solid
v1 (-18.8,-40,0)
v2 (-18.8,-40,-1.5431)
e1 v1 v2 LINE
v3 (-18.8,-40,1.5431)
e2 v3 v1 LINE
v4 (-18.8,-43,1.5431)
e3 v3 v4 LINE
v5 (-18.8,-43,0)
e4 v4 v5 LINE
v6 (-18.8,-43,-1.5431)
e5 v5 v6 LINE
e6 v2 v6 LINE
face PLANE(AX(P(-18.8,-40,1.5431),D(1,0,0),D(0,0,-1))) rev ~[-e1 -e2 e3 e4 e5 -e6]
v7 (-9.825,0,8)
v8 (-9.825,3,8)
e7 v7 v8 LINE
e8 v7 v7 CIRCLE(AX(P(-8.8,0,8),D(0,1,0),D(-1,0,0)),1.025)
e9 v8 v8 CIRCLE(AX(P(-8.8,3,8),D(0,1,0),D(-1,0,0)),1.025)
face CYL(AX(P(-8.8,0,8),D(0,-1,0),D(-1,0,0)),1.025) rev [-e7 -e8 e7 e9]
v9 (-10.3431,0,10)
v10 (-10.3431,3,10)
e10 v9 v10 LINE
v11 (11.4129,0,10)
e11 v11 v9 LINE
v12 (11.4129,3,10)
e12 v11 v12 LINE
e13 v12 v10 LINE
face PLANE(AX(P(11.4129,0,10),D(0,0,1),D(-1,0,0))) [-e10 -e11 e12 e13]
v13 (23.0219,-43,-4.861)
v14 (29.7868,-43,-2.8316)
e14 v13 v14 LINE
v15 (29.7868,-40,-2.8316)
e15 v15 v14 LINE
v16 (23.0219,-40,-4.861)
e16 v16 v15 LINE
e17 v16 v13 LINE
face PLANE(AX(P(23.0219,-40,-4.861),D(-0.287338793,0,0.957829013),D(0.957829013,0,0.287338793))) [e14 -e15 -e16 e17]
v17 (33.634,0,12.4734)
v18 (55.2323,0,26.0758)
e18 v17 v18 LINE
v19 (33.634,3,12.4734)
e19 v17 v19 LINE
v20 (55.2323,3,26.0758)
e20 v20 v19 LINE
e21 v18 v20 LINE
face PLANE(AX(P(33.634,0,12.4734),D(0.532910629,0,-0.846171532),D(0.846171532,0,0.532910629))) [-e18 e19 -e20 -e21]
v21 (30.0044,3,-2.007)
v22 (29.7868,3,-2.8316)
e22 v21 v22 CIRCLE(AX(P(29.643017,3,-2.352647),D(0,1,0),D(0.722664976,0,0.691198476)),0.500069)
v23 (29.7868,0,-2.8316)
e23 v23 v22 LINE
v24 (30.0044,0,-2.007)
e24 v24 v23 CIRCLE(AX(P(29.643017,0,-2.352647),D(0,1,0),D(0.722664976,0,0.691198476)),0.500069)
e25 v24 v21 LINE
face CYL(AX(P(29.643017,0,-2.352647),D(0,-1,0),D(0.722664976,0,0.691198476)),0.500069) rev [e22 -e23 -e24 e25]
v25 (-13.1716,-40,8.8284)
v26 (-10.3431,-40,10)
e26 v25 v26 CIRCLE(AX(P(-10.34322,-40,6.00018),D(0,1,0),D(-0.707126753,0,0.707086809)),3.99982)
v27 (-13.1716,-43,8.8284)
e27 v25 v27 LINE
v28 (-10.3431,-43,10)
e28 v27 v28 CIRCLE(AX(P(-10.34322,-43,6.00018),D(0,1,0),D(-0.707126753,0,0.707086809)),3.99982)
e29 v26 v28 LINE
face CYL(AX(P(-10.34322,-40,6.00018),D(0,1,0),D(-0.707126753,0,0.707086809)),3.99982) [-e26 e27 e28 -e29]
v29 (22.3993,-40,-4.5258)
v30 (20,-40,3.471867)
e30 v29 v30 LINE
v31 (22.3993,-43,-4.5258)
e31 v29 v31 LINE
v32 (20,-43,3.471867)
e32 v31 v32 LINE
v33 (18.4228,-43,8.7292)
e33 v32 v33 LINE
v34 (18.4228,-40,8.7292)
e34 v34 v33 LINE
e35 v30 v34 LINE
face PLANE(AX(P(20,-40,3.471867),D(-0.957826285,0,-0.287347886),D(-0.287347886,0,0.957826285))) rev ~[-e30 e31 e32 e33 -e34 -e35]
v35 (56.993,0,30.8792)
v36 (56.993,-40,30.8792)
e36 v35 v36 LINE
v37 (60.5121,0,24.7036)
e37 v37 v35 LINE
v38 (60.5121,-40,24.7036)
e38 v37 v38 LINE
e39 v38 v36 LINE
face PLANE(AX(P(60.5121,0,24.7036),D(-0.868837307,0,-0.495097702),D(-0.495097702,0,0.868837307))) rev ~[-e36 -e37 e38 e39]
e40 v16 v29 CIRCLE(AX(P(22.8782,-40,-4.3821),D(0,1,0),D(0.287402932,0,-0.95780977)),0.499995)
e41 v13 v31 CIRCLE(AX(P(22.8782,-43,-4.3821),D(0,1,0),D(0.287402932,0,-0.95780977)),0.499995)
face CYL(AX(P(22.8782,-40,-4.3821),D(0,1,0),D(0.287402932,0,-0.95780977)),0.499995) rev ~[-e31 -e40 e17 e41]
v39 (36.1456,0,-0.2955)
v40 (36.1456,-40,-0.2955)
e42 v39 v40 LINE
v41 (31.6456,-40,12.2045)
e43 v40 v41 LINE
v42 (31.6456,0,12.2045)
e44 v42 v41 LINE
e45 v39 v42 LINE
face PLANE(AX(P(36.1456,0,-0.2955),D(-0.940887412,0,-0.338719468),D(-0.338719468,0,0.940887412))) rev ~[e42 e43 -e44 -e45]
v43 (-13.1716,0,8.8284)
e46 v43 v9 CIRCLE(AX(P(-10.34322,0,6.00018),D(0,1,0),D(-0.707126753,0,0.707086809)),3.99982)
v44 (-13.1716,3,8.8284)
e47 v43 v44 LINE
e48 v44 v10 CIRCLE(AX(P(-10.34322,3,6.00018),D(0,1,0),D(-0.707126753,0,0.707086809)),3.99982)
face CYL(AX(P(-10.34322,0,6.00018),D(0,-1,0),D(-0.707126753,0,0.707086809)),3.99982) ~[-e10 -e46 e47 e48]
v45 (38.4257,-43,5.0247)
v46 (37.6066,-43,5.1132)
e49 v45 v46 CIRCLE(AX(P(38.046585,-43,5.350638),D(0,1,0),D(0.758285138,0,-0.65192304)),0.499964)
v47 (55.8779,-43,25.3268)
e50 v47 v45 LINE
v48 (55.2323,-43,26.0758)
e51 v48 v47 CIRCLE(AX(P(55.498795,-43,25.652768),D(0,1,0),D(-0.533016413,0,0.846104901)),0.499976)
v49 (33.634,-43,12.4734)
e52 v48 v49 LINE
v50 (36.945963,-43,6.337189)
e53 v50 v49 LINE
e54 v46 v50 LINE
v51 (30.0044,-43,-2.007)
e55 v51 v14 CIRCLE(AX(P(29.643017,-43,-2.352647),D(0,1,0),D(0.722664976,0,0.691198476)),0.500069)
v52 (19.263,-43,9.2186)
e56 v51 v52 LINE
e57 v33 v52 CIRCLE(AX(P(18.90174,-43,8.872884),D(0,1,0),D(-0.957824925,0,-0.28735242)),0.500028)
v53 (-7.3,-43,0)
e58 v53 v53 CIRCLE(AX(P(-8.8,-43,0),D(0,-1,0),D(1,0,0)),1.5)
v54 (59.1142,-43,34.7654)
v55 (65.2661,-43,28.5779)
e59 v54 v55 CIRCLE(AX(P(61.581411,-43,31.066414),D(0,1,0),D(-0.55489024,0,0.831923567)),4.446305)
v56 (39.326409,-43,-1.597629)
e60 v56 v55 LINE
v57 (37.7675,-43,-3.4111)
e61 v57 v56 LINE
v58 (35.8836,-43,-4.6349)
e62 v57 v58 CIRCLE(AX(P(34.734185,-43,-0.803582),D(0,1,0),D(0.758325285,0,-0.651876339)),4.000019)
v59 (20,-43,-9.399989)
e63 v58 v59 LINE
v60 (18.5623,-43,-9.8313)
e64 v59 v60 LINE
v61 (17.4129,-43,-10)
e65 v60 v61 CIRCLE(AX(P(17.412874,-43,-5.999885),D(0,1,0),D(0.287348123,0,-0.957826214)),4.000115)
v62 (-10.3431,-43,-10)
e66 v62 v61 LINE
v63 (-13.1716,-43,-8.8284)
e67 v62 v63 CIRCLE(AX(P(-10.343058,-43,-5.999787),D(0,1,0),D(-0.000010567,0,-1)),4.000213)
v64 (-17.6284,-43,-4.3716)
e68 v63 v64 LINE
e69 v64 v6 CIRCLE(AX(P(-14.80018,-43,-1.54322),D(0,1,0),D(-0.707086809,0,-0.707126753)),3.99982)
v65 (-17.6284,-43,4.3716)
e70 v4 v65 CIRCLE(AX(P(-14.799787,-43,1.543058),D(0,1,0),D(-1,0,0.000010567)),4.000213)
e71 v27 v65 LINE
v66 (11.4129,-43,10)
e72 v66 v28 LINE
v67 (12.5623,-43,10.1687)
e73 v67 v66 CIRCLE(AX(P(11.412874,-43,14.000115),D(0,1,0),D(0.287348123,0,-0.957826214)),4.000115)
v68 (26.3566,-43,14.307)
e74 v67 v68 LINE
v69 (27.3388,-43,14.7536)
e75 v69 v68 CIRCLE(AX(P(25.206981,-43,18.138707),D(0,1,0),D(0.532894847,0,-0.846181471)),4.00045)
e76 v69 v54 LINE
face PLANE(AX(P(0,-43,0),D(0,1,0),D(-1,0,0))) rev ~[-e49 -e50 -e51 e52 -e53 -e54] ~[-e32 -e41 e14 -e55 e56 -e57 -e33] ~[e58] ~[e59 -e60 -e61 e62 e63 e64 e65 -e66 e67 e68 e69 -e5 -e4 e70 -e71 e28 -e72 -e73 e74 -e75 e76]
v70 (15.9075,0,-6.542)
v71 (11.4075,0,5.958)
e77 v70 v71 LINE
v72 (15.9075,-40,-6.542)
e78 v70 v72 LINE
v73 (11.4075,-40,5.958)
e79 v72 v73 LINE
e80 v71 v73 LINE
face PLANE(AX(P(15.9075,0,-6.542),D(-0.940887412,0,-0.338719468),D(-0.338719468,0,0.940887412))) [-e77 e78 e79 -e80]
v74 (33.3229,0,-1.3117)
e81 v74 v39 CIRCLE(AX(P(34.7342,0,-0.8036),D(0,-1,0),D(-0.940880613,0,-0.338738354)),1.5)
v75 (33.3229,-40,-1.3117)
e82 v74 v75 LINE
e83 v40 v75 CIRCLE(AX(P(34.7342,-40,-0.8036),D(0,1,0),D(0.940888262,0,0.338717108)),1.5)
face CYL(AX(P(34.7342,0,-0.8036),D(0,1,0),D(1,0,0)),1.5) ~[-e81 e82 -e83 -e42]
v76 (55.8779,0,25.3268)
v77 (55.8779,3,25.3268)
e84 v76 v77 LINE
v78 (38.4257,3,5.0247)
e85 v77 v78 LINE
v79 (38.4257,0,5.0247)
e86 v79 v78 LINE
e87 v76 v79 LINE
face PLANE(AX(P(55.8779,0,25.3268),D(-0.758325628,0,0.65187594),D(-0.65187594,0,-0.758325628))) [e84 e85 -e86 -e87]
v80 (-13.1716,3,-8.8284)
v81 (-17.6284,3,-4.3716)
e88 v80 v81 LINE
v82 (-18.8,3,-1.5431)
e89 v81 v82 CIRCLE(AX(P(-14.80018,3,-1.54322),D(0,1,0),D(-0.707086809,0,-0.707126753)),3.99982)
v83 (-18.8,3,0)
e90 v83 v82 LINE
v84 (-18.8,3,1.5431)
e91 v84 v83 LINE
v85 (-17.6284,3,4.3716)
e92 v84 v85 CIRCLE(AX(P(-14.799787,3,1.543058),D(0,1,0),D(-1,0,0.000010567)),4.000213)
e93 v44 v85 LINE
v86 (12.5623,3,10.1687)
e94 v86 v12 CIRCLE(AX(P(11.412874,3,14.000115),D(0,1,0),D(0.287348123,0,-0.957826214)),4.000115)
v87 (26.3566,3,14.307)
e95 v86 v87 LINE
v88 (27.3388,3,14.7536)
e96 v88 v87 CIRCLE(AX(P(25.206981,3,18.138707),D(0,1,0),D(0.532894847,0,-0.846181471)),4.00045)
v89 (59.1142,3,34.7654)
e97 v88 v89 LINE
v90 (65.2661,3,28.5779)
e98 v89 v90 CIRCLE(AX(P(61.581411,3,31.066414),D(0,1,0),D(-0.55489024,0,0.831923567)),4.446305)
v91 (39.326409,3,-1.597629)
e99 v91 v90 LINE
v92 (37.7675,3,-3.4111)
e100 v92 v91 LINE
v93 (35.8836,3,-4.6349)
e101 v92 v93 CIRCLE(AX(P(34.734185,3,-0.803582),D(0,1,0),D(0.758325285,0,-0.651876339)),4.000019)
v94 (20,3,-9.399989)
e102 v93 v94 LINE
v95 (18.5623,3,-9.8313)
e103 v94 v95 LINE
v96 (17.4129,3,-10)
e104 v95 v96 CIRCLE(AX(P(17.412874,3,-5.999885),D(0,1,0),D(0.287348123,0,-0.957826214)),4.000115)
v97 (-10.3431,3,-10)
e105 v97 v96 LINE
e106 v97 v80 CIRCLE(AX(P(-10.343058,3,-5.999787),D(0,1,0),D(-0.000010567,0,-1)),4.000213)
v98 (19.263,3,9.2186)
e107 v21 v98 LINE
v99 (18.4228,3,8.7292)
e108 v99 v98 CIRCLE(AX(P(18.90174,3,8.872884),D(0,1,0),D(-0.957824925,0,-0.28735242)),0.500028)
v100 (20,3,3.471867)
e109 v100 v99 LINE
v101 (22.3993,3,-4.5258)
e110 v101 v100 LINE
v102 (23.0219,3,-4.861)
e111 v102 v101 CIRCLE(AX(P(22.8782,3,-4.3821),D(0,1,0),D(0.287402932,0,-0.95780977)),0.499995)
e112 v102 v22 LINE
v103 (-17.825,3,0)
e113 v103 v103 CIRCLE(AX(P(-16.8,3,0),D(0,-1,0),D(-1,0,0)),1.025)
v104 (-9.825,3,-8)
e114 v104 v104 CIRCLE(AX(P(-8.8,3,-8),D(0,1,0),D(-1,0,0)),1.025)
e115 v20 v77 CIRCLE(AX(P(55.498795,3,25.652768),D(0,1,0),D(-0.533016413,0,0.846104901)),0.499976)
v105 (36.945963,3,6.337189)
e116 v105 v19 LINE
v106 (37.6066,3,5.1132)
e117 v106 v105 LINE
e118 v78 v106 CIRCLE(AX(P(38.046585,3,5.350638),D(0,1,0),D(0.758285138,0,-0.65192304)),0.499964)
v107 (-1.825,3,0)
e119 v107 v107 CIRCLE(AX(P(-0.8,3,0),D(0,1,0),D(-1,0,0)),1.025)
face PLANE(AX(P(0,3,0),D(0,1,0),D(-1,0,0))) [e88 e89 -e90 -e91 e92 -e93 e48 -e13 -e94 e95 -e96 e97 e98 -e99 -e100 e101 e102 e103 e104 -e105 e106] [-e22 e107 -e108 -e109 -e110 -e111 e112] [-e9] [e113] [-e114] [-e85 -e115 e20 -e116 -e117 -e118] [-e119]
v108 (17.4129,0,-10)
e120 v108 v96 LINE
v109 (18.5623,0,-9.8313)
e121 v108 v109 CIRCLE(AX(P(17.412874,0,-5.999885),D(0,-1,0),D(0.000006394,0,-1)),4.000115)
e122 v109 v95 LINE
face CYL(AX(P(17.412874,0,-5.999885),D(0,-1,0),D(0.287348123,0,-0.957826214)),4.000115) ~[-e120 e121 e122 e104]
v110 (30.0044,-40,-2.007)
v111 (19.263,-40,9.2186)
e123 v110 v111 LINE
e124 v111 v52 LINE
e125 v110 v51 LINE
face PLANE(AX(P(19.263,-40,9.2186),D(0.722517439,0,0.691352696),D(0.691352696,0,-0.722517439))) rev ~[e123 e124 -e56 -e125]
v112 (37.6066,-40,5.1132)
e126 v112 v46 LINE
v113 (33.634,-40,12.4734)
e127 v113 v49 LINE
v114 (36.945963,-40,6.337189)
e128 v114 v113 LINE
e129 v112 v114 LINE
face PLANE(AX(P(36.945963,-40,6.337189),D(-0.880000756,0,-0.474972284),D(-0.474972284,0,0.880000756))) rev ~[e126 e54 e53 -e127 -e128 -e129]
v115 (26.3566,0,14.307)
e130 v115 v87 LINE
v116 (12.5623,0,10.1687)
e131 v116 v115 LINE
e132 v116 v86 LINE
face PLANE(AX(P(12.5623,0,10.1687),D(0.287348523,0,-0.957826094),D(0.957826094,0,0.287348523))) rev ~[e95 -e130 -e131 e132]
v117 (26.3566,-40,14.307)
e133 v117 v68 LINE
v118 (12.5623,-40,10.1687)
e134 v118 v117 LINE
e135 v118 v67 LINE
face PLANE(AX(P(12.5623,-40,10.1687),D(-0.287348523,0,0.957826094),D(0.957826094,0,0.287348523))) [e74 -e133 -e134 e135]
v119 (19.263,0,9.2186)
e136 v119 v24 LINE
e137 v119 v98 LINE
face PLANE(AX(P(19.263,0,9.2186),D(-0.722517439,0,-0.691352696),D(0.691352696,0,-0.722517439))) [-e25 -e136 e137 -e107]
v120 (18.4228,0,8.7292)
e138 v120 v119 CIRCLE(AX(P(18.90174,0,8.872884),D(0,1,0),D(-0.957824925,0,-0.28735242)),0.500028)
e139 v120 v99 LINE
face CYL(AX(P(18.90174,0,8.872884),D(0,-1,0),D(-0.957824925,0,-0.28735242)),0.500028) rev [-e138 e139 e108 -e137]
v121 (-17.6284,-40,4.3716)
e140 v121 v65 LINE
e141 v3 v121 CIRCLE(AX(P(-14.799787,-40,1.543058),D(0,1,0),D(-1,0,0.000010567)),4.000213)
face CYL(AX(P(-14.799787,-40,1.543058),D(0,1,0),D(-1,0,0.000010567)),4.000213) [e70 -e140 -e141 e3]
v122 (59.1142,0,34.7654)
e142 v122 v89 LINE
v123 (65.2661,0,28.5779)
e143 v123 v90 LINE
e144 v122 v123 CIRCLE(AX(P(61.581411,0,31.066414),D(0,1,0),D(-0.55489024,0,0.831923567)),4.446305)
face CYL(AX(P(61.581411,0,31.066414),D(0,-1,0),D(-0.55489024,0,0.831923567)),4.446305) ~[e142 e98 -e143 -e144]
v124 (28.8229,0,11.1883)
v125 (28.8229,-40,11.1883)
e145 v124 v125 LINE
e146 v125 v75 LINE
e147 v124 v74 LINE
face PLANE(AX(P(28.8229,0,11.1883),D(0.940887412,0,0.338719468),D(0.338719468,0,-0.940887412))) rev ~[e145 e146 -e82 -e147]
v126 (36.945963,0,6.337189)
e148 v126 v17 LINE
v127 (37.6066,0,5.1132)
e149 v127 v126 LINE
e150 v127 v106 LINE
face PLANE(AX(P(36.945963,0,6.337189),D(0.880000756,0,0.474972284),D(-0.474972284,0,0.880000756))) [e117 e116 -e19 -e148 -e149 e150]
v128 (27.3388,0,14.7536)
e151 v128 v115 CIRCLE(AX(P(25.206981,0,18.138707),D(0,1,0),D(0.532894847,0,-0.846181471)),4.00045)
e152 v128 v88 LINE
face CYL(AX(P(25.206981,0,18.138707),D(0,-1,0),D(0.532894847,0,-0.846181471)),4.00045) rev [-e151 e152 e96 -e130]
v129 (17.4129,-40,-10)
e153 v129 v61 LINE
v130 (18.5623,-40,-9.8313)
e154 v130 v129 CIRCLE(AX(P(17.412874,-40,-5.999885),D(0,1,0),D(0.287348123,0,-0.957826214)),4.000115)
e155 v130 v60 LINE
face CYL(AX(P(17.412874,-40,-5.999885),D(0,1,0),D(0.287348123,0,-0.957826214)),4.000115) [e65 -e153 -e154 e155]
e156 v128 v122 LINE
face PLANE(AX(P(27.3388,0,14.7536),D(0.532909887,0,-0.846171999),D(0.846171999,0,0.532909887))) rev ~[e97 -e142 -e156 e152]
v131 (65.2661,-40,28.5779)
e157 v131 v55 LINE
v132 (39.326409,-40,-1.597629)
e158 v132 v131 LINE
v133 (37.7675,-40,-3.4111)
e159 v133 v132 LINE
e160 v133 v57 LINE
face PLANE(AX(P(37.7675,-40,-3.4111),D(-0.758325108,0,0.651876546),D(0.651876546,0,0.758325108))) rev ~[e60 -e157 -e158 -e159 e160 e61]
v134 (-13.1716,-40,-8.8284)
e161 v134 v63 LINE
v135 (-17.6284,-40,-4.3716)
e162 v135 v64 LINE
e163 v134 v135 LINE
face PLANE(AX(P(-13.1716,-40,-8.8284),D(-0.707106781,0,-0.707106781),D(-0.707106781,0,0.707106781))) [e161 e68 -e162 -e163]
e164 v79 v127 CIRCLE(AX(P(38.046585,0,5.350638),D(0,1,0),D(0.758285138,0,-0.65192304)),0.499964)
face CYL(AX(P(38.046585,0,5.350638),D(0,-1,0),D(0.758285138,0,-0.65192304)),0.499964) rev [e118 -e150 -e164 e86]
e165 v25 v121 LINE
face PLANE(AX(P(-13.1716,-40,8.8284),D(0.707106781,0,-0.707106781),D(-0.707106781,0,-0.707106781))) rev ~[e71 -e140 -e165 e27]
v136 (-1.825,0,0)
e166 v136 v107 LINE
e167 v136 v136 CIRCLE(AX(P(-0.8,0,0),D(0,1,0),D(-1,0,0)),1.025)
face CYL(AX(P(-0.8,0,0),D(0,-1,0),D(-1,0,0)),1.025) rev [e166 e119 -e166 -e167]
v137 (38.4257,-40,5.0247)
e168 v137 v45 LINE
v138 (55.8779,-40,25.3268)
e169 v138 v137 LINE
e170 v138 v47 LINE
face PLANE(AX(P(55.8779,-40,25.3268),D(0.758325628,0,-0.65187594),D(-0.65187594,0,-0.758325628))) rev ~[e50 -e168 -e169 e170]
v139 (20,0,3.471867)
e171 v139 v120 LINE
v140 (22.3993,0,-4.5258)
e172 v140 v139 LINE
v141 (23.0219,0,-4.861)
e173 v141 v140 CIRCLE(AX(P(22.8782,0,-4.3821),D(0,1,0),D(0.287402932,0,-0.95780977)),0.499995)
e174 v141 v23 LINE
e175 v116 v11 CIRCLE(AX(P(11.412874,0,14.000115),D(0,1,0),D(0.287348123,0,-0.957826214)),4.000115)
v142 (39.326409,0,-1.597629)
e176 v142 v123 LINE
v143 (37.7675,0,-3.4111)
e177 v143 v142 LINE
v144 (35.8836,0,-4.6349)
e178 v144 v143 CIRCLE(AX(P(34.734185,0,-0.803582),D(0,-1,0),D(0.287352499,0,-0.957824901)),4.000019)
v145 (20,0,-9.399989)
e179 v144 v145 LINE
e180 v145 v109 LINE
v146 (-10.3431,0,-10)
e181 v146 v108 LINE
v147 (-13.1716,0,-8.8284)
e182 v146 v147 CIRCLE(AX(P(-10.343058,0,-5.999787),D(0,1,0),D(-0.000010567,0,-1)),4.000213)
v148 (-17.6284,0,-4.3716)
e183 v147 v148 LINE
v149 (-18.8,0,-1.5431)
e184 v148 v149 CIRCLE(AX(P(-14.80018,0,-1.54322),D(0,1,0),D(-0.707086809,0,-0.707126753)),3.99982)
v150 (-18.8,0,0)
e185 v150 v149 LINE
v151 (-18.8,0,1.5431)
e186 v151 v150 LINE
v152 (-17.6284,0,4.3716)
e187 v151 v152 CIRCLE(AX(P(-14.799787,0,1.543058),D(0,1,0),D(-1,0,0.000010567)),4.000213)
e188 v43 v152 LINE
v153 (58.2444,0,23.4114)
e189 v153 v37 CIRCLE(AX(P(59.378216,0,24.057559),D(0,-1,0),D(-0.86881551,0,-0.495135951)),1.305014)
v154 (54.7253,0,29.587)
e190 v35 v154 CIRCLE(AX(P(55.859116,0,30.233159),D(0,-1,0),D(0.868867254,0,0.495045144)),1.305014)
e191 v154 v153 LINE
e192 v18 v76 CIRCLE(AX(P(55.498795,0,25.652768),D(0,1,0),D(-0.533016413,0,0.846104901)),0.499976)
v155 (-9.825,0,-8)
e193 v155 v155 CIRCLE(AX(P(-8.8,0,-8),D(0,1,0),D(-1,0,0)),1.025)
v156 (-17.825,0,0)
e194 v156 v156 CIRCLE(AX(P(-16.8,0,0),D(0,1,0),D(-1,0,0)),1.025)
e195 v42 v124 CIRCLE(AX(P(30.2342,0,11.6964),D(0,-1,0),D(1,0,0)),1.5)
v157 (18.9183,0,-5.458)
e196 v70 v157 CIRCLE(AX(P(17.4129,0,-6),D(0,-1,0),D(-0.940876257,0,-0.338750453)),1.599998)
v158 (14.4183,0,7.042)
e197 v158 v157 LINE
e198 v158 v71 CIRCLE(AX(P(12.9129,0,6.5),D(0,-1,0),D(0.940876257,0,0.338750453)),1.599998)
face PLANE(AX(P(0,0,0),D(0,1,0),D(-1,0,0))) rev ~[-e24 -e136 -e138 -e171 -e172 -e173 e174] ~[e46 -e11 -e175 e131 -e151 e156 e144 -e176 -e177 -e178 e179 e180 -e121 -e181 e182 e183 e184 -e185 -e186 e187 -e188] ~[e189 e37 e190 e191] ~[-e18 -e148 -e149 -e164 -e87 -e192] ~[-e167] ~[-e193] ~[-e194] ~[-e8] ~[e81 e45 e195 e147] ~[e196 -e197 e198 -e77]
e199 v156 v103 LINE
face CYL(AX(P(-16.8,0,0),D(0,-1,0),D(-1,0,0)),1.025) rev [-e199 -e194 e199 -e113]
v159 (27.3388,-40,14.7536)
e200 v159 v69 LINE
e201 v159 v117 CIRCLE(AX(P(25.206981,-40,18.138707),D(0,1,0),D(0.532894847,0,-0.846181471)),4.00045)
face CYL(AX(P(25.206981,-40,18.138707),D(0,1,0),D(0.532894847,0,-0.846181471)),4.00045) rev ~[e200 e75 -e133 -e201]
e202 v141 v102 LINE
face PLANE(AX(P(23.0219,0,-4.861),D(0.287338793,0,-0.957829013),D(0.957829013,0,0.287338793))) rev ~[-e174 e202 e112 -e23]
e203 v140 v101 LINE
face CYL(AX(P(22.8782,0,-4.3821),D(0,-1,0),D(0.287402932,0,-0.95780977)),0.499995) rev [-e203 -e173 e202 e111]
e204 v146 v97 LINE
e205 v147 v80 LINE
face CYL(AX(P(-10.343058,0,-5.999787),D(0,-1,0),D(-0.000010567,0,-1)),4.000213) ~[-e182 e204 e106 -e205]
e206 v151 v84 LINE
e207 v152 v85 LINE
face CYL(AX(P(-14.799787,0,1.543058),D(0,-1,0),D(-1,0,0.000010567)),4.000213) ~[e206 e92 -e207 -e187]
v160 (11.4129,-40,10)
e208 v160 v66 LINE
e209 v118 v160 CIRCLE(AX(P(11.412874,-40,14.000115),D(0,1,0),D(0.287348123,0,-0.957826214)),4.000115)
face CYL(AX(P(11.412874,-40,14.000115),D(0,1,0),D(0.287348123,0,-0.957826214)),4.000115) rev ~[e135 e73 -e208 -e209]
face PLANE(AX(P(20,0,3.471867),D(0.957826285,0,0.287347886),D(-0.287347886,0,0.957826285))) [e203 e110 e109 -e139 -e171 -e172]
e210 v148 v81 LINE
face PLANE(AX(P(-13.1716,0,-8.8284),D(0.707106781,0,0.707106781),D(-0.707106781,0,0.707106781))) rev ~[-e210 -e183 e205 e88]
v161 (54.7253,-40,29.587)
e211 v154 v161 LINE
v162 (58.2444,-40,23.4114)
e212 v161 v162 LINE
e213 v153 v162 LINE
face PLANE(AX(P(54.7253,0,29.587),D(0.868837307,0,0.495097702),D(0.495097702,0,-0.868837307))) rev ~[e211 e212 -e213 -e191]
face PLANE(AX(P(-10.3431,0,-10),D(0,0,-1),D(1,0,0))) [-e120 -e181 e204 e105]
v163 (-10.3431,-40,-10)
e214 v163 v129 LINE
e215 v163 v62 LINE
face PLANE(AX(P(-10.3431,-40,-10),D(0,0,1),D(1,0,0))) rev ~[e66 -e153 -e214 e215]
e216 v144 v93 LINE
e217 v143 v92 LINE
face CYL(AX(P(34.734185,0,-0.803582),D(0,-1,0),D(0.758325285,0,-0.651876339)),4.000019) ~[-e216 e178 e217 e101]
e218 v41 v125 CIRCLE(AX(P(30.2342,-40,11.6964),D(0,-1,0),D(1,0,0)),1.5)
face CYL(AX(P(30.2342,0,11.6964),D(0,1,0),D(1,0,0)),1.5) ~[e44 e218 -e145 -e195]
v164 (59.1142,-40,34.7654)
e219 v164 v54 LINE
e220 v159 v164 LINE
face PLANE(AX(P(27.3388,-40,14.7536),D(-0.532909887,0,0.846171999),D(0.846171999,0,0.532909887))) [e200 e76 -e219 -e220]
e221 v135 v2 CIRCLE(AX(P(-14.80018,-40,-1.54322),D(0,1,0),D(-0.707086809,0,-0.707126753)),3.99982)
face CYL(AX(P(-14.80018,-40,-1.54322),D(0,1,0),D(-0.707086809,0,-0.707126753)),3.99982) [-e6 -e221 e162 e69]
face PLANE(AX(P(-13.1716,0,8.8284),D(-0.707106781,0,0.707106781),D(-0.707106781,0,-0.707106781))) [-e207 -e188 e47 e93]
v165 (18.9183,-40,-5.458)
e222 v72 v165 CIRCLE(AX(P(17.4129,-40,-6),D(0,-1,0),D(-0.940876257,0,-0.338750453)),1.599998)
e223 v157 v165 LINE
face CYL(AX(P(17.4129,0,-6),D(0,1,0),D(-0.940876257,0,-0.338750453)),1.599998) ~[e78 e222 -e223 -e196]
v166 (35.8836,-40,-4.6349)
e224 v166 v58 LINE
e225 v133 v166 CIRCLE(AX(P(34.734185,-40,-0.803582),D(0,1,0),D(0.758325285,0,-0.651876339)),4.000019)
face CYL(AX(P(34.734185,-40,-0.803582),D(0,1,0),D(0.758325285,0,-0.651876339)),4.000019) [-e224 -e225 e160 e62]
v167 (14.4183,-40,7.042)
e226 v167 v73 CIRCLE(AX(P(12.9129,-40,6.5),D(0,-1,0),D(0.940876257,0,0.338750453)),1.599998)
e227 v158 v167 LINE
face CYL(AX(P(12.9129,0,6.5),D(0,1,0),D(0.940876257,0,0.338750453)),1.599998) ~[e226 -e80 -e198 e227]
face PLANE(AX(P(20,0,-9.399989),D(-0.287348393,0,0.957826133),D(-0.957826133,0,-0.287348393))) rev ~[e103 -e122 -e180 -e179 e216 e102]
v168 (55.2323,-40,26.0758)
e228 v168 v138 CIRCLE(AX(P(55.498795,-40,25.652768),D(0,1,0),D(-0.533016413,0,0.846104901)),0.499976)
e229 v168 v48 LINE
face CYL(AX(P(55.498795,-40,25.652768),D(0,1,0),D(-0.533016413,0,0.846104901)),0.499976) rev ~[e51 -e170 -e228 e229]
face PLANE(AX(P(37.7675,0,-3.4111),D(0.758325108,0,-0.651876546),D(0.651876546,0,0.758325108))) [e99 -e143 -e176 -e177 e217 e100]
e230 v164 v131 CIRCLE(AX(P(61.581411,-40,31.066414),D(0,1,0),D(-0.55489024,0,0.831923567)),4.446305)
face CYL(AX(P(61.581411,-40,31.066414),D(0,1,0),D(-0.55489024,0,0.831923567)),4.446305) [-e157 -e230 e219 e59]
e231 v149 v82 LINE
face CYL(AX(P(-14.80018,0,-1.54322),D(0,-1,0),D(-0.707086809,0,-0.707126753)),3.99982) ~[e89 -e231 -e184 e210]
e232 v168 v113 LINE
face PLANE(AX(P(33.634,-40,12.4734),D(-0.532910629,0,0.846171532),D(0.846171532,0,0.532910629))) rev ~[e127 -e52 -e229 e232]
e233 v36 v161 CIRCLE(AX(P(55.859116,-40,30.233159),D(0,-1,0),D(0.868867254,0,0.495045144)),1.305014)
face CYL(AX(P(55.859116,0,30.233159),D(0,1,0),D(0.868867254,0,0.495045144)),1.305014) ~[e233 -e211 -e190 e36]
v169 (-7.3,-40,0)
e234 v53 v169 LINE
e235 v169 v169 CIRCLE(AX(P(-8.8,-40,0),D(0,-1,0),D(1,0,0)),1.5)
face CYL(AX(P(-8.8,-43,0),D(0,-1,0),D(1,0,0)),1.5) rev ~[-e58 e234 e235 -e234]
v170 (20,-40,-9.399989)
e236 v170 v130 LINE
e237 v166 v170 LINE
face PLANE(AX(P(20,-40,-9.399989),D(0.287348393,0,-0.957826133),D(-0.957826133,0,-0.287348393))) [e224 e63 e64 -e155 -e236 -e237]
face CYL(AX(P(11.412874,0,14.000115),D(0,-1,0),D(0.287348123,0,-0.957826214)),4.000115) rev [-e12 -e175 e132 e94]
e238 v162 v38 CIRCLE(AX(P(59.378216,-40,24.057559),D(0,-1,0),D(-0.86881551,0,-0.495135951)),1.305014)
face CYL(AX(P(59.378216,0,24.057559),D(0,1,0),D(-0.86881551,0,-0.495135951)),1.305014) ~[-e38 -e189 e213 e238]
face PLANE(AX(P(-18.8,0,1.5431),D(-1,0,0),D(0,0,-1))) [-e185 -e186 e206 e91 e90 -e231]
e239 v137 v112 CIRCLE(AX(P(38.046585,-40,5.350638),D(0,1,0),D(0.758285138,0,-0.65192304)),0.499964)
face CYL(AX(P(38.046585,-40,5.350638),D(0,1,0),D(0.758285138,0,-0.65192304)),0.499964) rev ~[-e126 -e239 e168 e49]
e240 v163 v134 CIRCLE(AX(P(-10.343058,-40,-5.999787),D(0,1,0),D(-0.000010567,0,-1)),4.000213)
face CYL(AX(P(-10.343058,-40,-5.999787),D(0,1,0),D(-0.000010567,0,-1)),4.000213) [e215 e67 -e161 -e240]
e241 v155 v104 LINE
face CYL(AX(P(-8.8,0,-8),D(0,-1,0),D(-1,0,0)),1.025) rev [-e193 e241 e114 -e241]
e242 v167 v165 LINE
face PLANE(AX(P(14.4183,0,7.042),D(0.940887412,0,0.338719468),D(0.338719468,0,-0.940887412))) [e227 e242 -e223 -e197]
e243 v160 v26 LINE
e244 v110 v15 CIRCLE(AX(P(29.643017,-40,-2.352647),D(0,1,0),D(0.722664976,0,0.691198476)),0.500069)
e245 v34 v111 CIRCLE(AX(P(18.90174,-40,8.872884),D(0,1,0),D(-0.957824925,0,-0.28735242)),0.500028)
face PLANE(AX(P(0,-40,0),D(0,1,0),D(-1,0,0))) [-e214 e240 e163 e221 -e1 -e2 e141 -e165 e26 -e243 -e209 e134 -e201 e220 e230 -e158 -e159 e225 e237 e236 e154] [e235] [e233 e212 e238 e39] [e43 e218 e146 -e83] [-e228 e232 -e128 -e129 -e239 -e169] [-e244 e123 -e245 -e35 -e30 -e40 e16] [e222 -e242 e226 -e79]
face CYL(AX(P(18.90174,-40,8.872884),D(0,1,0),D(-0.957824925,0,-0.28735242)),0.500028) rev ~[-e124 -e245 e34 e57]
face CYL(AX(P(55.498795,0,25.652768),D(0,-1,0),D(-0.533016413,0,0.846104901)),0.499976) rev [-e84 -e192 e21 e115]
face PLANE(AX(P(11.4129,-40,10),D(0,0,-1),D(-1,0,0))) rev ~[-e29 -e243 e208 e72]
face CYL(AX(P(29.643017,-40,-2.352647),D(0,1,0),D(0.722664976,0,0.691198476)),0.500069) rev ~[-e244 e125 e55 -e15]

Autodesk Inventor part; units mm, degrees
ref_plane "YZ Plane" through (0, 0, 0) normal (1, 0, 0) x (0, 1, 0)
ref_plane "XZ Plane" through (0, 0, 0) normal (0, 1, 0) x (-1, 0, 0)
ref_plane "XY Plane" through (0, 0, 0) normal (0, 0, 1) x (1, 0, 0)
sketch "Sketch1" plane through (0, 0, 0) normal (0, 1, 0) x (-1, 0, 0)
  line L0 (-11.4129, 10) -> (10.3431, 10)
  line L1 (20, 2) -> (20, -2)
  line L2 (10.3431, -10) -> (-17.4129, -10)
  line L3 (-20, -10) -> (-20, 10)
  line L4 (20, -10) -> (-20, 10) construction
  line L5 (20, 10) -> (-20, -10) construction
  line L6 (13.1716, -8.8284) -> (17.6284, -4.3716)
  line L7 (13.1716, 8.8284) -> (17.6284, 4.3716)
  line L8 (18.8, 1.5431) -> (18.8, -1.5431)
  arc A0 (18.8, 1.5431) -> (17.6284, 4.3716) centre (14.8, 1.5431) ccw
  arc A1 (17.6284, -4.3716) -> (18.8, -1.5431) centre (14.8, -1.5431) ccw
  arc A2 (13.1716, 8.8284) -> (10.3431, 10) centre (10.3431, 6) ccw
  arc A3 (10.3431, -10) -> (13.1716, -8.8284) centre (10.3431, -6) ccw
  line L9 (-18, -10) -> (-12, 10)
  line L10 (-12.5623, 10.1687) -> (-26.3566, 14.307)
  line L11 (-33.8781, 16.5634) -> (-39.8781, -3.4366)
  line L12 (-35.8836, -4.6349) -> (-18.5623, -9.8313)
  line L13 (-26.8781, 14.4634) -> (-37.0046, -4.2986)
  line L14 (-27.3388, 14.7536) -> (-59.1142, 34.7654)
  line L15 (-37.7675, -3.4111) -> (-65.2661, 28.5779)
  arc A4 (-12.5623, 10.1687) -> (-11.4129, 10) centre (-11.4129, 14) ccw
  arc A5 (-18.5623, -9.8313) -> (-17.4129, -10) centre (-17.4129, -6) ccw
  arc A6 (-27.3388, 14.7536) -> (-26.3566, 14.307) centre (-25.2072, 18.1383) ccw
  arc A7 (-37.7675, -3.4111) -> (-35.8836, -4.6349) centre (-34.7342, -0.8036) ccw
  arc A8 (-59.1142, 34.7654) -> (-65.2661, 28.5779) centre (-61.5814, 31.0663) ccw
  line L16 (18.8, 0) -> (8.8, 0)
  circle A9 centre (0.8, 0) radius 1.025
  circle A10 centre (8.8, -8) radius 1.025
  circle A11 centre (16.8, 0) radius 1.025
  circle A12 centre (8.8, 8) radius 1.025
  line L17 (-23.0219, -4.861) -> (-29.7868, -2.8316)
  line L18 (-22.3993, -4.5258) -> (-18.4228, 8.7292)
  line L19 (-19.263, 9.2186) -> (-30.0044, -2.007)
  arc A13 (-23.0219, -4.861) -> (-22.3993, -4.5258) centre (-22.8782, -4.3821) ccw
  arc A14 (-30.0044, -2.007) -> (-29.7868, -2.8316) centre (-29.6432, -2.3526) ccw
  arc A15 (-18.4228, 8.7292) -> (-19.263, 9.2186) centre (-18.9017, 8.8729) ccw
  line L20 (-37.6066, 5.1132) -> (-33.634, 12.4734)
  line L21 (-33.634, 12.4734) -> (-55.2323, 26.0758)
  line L22 (-55.8779, 25.3268) -> (-38.4257, 5.0247)
  arc A16 (-38.4257, 5.0247) -> (-37.6066, 5.1132) centre (-38.0466, 5.3506) ccw
  arc A17 (-55.2323, 26.0758) -> (-55.8779, 25.3268) centre (-55.4988, 25.6528) ccw
  point P0 (0, 0)
  point P1 (0, 0)
  point P2 (12, -10)
  point P3 (12, 10)
  point P4 (20, 10)
  point P5 (18.8, 3.2)
  point P6 (18.8, -3.2)
  point P7 (-37.9518, 4.4734)
  point P8 (-35.6203, 8.7933)
  dimension "d0" = 40
  dimension "d1" = 20
  dimension "d32" = 8
  dimension "d33" = 8
  dimension "d34" = 8
  dimension "d35" = 8
  dimension "d43" = 1.2
  dimension "d46" = 4
  dimension "d47" = 2
  dimension "d48" = 8
  dimension "d49" = 3
  dimension "d50" = 7
  dimension "d51" = 43.3541
  dimension "d52" = 32.617
  dimension "d53" = 4
  dimension "d54" = 10
  dimension "d55" = 2.05
  dimension "d56" = 8
  dimension "d59" = 360
  dimension "d79" = 0.5
  dimension "d80" = 8
  dimension "d81" = 5
  dimension "d82" = 5
  dimension "d83" = 0.5
extrude "Extrusion1" add sketch "Sketch1" along normal blind 3
sketch "Sketch8" plane through (0, 0, 0) normal (0, -1, 0) x (1, 0, 0)
  arc A0 (17.4129, -10) -> (18.5623, -9.8313) centre (17.4129, -6) ccw projected
  line L0 (-13.1716, -8.8284) -> (-17.6284, -4.3716) projected
  arc A1 (35.8836, -4.6349) -> (37.7675, -3.4111) centre (34.7342, -0.8036) ccw projected
  circle A2 centre (34.7342, -0.8036) radius 1.5
  circle A3 centre (30.2342, 11.6964) radius 1.5
  line L1 (65.2661, 28.5779) -> (37.7675, -3.4111) projected
  line L2 (27.3388, 14.7536) -> (59.1142, 34.7654) projected
  line L3 (15.9075, -6.542) -> (11.4075, 5.958)
  line L4 (14.4183, 7.042) -> (18.9183, -5.458)
  arc A4 (15.9075, -6.542) -> (18.9183, -5.458) centre (17.4129, -6) ccw
  arc A5 (14.4183, 7.042) -> (11.4075, 5.958) centre (12.9129, 6.5) ccw
  line L5 (34.7342, -0.8036) -> (30.2342, 11.6964) construction
  line L6 (36.1456, -0.2955) -> (31.6456, 12.2045)
  line L7 (28.8229, 11.1883) -> (33.3229, -1.3117)
  arc A6 (33.3229, -1.3117) -> (36.1456, -0.2955) centre (34.7342, -0.8036) ccw
  arc A7 (31.6456, 12.2045) -> (28.8229, 11.1883) centre (30.2342, 11.6964) ccw
  line L8 (59.3782, 24.0575) -> (55.8591, 30.2331) construction
  line L9 (60.5121, 24.7036) -> (56.993, 30.8792)
  line L10 (54.7253, 29.587) -> (58.2444, 23.4114)
  arc A8 (58.2444, 23.4114) -> (60.5121, 24.7036) centre (59.3782, 24.0575) ccw
  arc A9 (56.993, 30.8792) -> (54.7253, 29.587) centre (55.8591, 30.2331) ccw
  point P0 (0, 0)
  point P1 (17.9938, -9.9576)
  point P2 (15.1629, 0.25)
  point P3 (32.4842, 5.4464)
  point P4 (57.6187, 27.1453)
  dimension "d64" = 3
  dimension "d69" = 3
  dimension "d70" = 4.5
  dimension "d71" = 12.5
  dimension "d88" = 1.6
extrude "Extrusion7" add sketch "Sketch8" along normal blind 40
extrude "Extrusion8" add sketch "Sketch1" against normal blind 3 from surface at -40 contours A11 L16 | L16 A11 | L0 A2 L7 A0 L8 A1 L6 A3 L2 A5 L12 A7 L15 A8 L14 A6 L10 A4 | A9 | A10 | A12
sketch "Sketch10" plane through (-10.3431, -43, -10) normal (0, -1, 0) x (1, 0, 0)
  line L0 (-8.4569, 8.4569) -> (-8.4569, 11.5431) projected
  line L1 (-8.4569, 10) -> (1.5431, 10)
  circle A0 centre (1.5431, 10) radius 1.5
  point P0 (10.3431, 10)
  dimension "d84" = 10
  dimension "d85" = 3
extrude "Extrusion9" cut sketch "Sketch10" against normal blind 3
equation "\"d33\" = d32"
equation "\"d34\" = d32"
equation "\"d35\" = d34"
properties part number "leg_part"
